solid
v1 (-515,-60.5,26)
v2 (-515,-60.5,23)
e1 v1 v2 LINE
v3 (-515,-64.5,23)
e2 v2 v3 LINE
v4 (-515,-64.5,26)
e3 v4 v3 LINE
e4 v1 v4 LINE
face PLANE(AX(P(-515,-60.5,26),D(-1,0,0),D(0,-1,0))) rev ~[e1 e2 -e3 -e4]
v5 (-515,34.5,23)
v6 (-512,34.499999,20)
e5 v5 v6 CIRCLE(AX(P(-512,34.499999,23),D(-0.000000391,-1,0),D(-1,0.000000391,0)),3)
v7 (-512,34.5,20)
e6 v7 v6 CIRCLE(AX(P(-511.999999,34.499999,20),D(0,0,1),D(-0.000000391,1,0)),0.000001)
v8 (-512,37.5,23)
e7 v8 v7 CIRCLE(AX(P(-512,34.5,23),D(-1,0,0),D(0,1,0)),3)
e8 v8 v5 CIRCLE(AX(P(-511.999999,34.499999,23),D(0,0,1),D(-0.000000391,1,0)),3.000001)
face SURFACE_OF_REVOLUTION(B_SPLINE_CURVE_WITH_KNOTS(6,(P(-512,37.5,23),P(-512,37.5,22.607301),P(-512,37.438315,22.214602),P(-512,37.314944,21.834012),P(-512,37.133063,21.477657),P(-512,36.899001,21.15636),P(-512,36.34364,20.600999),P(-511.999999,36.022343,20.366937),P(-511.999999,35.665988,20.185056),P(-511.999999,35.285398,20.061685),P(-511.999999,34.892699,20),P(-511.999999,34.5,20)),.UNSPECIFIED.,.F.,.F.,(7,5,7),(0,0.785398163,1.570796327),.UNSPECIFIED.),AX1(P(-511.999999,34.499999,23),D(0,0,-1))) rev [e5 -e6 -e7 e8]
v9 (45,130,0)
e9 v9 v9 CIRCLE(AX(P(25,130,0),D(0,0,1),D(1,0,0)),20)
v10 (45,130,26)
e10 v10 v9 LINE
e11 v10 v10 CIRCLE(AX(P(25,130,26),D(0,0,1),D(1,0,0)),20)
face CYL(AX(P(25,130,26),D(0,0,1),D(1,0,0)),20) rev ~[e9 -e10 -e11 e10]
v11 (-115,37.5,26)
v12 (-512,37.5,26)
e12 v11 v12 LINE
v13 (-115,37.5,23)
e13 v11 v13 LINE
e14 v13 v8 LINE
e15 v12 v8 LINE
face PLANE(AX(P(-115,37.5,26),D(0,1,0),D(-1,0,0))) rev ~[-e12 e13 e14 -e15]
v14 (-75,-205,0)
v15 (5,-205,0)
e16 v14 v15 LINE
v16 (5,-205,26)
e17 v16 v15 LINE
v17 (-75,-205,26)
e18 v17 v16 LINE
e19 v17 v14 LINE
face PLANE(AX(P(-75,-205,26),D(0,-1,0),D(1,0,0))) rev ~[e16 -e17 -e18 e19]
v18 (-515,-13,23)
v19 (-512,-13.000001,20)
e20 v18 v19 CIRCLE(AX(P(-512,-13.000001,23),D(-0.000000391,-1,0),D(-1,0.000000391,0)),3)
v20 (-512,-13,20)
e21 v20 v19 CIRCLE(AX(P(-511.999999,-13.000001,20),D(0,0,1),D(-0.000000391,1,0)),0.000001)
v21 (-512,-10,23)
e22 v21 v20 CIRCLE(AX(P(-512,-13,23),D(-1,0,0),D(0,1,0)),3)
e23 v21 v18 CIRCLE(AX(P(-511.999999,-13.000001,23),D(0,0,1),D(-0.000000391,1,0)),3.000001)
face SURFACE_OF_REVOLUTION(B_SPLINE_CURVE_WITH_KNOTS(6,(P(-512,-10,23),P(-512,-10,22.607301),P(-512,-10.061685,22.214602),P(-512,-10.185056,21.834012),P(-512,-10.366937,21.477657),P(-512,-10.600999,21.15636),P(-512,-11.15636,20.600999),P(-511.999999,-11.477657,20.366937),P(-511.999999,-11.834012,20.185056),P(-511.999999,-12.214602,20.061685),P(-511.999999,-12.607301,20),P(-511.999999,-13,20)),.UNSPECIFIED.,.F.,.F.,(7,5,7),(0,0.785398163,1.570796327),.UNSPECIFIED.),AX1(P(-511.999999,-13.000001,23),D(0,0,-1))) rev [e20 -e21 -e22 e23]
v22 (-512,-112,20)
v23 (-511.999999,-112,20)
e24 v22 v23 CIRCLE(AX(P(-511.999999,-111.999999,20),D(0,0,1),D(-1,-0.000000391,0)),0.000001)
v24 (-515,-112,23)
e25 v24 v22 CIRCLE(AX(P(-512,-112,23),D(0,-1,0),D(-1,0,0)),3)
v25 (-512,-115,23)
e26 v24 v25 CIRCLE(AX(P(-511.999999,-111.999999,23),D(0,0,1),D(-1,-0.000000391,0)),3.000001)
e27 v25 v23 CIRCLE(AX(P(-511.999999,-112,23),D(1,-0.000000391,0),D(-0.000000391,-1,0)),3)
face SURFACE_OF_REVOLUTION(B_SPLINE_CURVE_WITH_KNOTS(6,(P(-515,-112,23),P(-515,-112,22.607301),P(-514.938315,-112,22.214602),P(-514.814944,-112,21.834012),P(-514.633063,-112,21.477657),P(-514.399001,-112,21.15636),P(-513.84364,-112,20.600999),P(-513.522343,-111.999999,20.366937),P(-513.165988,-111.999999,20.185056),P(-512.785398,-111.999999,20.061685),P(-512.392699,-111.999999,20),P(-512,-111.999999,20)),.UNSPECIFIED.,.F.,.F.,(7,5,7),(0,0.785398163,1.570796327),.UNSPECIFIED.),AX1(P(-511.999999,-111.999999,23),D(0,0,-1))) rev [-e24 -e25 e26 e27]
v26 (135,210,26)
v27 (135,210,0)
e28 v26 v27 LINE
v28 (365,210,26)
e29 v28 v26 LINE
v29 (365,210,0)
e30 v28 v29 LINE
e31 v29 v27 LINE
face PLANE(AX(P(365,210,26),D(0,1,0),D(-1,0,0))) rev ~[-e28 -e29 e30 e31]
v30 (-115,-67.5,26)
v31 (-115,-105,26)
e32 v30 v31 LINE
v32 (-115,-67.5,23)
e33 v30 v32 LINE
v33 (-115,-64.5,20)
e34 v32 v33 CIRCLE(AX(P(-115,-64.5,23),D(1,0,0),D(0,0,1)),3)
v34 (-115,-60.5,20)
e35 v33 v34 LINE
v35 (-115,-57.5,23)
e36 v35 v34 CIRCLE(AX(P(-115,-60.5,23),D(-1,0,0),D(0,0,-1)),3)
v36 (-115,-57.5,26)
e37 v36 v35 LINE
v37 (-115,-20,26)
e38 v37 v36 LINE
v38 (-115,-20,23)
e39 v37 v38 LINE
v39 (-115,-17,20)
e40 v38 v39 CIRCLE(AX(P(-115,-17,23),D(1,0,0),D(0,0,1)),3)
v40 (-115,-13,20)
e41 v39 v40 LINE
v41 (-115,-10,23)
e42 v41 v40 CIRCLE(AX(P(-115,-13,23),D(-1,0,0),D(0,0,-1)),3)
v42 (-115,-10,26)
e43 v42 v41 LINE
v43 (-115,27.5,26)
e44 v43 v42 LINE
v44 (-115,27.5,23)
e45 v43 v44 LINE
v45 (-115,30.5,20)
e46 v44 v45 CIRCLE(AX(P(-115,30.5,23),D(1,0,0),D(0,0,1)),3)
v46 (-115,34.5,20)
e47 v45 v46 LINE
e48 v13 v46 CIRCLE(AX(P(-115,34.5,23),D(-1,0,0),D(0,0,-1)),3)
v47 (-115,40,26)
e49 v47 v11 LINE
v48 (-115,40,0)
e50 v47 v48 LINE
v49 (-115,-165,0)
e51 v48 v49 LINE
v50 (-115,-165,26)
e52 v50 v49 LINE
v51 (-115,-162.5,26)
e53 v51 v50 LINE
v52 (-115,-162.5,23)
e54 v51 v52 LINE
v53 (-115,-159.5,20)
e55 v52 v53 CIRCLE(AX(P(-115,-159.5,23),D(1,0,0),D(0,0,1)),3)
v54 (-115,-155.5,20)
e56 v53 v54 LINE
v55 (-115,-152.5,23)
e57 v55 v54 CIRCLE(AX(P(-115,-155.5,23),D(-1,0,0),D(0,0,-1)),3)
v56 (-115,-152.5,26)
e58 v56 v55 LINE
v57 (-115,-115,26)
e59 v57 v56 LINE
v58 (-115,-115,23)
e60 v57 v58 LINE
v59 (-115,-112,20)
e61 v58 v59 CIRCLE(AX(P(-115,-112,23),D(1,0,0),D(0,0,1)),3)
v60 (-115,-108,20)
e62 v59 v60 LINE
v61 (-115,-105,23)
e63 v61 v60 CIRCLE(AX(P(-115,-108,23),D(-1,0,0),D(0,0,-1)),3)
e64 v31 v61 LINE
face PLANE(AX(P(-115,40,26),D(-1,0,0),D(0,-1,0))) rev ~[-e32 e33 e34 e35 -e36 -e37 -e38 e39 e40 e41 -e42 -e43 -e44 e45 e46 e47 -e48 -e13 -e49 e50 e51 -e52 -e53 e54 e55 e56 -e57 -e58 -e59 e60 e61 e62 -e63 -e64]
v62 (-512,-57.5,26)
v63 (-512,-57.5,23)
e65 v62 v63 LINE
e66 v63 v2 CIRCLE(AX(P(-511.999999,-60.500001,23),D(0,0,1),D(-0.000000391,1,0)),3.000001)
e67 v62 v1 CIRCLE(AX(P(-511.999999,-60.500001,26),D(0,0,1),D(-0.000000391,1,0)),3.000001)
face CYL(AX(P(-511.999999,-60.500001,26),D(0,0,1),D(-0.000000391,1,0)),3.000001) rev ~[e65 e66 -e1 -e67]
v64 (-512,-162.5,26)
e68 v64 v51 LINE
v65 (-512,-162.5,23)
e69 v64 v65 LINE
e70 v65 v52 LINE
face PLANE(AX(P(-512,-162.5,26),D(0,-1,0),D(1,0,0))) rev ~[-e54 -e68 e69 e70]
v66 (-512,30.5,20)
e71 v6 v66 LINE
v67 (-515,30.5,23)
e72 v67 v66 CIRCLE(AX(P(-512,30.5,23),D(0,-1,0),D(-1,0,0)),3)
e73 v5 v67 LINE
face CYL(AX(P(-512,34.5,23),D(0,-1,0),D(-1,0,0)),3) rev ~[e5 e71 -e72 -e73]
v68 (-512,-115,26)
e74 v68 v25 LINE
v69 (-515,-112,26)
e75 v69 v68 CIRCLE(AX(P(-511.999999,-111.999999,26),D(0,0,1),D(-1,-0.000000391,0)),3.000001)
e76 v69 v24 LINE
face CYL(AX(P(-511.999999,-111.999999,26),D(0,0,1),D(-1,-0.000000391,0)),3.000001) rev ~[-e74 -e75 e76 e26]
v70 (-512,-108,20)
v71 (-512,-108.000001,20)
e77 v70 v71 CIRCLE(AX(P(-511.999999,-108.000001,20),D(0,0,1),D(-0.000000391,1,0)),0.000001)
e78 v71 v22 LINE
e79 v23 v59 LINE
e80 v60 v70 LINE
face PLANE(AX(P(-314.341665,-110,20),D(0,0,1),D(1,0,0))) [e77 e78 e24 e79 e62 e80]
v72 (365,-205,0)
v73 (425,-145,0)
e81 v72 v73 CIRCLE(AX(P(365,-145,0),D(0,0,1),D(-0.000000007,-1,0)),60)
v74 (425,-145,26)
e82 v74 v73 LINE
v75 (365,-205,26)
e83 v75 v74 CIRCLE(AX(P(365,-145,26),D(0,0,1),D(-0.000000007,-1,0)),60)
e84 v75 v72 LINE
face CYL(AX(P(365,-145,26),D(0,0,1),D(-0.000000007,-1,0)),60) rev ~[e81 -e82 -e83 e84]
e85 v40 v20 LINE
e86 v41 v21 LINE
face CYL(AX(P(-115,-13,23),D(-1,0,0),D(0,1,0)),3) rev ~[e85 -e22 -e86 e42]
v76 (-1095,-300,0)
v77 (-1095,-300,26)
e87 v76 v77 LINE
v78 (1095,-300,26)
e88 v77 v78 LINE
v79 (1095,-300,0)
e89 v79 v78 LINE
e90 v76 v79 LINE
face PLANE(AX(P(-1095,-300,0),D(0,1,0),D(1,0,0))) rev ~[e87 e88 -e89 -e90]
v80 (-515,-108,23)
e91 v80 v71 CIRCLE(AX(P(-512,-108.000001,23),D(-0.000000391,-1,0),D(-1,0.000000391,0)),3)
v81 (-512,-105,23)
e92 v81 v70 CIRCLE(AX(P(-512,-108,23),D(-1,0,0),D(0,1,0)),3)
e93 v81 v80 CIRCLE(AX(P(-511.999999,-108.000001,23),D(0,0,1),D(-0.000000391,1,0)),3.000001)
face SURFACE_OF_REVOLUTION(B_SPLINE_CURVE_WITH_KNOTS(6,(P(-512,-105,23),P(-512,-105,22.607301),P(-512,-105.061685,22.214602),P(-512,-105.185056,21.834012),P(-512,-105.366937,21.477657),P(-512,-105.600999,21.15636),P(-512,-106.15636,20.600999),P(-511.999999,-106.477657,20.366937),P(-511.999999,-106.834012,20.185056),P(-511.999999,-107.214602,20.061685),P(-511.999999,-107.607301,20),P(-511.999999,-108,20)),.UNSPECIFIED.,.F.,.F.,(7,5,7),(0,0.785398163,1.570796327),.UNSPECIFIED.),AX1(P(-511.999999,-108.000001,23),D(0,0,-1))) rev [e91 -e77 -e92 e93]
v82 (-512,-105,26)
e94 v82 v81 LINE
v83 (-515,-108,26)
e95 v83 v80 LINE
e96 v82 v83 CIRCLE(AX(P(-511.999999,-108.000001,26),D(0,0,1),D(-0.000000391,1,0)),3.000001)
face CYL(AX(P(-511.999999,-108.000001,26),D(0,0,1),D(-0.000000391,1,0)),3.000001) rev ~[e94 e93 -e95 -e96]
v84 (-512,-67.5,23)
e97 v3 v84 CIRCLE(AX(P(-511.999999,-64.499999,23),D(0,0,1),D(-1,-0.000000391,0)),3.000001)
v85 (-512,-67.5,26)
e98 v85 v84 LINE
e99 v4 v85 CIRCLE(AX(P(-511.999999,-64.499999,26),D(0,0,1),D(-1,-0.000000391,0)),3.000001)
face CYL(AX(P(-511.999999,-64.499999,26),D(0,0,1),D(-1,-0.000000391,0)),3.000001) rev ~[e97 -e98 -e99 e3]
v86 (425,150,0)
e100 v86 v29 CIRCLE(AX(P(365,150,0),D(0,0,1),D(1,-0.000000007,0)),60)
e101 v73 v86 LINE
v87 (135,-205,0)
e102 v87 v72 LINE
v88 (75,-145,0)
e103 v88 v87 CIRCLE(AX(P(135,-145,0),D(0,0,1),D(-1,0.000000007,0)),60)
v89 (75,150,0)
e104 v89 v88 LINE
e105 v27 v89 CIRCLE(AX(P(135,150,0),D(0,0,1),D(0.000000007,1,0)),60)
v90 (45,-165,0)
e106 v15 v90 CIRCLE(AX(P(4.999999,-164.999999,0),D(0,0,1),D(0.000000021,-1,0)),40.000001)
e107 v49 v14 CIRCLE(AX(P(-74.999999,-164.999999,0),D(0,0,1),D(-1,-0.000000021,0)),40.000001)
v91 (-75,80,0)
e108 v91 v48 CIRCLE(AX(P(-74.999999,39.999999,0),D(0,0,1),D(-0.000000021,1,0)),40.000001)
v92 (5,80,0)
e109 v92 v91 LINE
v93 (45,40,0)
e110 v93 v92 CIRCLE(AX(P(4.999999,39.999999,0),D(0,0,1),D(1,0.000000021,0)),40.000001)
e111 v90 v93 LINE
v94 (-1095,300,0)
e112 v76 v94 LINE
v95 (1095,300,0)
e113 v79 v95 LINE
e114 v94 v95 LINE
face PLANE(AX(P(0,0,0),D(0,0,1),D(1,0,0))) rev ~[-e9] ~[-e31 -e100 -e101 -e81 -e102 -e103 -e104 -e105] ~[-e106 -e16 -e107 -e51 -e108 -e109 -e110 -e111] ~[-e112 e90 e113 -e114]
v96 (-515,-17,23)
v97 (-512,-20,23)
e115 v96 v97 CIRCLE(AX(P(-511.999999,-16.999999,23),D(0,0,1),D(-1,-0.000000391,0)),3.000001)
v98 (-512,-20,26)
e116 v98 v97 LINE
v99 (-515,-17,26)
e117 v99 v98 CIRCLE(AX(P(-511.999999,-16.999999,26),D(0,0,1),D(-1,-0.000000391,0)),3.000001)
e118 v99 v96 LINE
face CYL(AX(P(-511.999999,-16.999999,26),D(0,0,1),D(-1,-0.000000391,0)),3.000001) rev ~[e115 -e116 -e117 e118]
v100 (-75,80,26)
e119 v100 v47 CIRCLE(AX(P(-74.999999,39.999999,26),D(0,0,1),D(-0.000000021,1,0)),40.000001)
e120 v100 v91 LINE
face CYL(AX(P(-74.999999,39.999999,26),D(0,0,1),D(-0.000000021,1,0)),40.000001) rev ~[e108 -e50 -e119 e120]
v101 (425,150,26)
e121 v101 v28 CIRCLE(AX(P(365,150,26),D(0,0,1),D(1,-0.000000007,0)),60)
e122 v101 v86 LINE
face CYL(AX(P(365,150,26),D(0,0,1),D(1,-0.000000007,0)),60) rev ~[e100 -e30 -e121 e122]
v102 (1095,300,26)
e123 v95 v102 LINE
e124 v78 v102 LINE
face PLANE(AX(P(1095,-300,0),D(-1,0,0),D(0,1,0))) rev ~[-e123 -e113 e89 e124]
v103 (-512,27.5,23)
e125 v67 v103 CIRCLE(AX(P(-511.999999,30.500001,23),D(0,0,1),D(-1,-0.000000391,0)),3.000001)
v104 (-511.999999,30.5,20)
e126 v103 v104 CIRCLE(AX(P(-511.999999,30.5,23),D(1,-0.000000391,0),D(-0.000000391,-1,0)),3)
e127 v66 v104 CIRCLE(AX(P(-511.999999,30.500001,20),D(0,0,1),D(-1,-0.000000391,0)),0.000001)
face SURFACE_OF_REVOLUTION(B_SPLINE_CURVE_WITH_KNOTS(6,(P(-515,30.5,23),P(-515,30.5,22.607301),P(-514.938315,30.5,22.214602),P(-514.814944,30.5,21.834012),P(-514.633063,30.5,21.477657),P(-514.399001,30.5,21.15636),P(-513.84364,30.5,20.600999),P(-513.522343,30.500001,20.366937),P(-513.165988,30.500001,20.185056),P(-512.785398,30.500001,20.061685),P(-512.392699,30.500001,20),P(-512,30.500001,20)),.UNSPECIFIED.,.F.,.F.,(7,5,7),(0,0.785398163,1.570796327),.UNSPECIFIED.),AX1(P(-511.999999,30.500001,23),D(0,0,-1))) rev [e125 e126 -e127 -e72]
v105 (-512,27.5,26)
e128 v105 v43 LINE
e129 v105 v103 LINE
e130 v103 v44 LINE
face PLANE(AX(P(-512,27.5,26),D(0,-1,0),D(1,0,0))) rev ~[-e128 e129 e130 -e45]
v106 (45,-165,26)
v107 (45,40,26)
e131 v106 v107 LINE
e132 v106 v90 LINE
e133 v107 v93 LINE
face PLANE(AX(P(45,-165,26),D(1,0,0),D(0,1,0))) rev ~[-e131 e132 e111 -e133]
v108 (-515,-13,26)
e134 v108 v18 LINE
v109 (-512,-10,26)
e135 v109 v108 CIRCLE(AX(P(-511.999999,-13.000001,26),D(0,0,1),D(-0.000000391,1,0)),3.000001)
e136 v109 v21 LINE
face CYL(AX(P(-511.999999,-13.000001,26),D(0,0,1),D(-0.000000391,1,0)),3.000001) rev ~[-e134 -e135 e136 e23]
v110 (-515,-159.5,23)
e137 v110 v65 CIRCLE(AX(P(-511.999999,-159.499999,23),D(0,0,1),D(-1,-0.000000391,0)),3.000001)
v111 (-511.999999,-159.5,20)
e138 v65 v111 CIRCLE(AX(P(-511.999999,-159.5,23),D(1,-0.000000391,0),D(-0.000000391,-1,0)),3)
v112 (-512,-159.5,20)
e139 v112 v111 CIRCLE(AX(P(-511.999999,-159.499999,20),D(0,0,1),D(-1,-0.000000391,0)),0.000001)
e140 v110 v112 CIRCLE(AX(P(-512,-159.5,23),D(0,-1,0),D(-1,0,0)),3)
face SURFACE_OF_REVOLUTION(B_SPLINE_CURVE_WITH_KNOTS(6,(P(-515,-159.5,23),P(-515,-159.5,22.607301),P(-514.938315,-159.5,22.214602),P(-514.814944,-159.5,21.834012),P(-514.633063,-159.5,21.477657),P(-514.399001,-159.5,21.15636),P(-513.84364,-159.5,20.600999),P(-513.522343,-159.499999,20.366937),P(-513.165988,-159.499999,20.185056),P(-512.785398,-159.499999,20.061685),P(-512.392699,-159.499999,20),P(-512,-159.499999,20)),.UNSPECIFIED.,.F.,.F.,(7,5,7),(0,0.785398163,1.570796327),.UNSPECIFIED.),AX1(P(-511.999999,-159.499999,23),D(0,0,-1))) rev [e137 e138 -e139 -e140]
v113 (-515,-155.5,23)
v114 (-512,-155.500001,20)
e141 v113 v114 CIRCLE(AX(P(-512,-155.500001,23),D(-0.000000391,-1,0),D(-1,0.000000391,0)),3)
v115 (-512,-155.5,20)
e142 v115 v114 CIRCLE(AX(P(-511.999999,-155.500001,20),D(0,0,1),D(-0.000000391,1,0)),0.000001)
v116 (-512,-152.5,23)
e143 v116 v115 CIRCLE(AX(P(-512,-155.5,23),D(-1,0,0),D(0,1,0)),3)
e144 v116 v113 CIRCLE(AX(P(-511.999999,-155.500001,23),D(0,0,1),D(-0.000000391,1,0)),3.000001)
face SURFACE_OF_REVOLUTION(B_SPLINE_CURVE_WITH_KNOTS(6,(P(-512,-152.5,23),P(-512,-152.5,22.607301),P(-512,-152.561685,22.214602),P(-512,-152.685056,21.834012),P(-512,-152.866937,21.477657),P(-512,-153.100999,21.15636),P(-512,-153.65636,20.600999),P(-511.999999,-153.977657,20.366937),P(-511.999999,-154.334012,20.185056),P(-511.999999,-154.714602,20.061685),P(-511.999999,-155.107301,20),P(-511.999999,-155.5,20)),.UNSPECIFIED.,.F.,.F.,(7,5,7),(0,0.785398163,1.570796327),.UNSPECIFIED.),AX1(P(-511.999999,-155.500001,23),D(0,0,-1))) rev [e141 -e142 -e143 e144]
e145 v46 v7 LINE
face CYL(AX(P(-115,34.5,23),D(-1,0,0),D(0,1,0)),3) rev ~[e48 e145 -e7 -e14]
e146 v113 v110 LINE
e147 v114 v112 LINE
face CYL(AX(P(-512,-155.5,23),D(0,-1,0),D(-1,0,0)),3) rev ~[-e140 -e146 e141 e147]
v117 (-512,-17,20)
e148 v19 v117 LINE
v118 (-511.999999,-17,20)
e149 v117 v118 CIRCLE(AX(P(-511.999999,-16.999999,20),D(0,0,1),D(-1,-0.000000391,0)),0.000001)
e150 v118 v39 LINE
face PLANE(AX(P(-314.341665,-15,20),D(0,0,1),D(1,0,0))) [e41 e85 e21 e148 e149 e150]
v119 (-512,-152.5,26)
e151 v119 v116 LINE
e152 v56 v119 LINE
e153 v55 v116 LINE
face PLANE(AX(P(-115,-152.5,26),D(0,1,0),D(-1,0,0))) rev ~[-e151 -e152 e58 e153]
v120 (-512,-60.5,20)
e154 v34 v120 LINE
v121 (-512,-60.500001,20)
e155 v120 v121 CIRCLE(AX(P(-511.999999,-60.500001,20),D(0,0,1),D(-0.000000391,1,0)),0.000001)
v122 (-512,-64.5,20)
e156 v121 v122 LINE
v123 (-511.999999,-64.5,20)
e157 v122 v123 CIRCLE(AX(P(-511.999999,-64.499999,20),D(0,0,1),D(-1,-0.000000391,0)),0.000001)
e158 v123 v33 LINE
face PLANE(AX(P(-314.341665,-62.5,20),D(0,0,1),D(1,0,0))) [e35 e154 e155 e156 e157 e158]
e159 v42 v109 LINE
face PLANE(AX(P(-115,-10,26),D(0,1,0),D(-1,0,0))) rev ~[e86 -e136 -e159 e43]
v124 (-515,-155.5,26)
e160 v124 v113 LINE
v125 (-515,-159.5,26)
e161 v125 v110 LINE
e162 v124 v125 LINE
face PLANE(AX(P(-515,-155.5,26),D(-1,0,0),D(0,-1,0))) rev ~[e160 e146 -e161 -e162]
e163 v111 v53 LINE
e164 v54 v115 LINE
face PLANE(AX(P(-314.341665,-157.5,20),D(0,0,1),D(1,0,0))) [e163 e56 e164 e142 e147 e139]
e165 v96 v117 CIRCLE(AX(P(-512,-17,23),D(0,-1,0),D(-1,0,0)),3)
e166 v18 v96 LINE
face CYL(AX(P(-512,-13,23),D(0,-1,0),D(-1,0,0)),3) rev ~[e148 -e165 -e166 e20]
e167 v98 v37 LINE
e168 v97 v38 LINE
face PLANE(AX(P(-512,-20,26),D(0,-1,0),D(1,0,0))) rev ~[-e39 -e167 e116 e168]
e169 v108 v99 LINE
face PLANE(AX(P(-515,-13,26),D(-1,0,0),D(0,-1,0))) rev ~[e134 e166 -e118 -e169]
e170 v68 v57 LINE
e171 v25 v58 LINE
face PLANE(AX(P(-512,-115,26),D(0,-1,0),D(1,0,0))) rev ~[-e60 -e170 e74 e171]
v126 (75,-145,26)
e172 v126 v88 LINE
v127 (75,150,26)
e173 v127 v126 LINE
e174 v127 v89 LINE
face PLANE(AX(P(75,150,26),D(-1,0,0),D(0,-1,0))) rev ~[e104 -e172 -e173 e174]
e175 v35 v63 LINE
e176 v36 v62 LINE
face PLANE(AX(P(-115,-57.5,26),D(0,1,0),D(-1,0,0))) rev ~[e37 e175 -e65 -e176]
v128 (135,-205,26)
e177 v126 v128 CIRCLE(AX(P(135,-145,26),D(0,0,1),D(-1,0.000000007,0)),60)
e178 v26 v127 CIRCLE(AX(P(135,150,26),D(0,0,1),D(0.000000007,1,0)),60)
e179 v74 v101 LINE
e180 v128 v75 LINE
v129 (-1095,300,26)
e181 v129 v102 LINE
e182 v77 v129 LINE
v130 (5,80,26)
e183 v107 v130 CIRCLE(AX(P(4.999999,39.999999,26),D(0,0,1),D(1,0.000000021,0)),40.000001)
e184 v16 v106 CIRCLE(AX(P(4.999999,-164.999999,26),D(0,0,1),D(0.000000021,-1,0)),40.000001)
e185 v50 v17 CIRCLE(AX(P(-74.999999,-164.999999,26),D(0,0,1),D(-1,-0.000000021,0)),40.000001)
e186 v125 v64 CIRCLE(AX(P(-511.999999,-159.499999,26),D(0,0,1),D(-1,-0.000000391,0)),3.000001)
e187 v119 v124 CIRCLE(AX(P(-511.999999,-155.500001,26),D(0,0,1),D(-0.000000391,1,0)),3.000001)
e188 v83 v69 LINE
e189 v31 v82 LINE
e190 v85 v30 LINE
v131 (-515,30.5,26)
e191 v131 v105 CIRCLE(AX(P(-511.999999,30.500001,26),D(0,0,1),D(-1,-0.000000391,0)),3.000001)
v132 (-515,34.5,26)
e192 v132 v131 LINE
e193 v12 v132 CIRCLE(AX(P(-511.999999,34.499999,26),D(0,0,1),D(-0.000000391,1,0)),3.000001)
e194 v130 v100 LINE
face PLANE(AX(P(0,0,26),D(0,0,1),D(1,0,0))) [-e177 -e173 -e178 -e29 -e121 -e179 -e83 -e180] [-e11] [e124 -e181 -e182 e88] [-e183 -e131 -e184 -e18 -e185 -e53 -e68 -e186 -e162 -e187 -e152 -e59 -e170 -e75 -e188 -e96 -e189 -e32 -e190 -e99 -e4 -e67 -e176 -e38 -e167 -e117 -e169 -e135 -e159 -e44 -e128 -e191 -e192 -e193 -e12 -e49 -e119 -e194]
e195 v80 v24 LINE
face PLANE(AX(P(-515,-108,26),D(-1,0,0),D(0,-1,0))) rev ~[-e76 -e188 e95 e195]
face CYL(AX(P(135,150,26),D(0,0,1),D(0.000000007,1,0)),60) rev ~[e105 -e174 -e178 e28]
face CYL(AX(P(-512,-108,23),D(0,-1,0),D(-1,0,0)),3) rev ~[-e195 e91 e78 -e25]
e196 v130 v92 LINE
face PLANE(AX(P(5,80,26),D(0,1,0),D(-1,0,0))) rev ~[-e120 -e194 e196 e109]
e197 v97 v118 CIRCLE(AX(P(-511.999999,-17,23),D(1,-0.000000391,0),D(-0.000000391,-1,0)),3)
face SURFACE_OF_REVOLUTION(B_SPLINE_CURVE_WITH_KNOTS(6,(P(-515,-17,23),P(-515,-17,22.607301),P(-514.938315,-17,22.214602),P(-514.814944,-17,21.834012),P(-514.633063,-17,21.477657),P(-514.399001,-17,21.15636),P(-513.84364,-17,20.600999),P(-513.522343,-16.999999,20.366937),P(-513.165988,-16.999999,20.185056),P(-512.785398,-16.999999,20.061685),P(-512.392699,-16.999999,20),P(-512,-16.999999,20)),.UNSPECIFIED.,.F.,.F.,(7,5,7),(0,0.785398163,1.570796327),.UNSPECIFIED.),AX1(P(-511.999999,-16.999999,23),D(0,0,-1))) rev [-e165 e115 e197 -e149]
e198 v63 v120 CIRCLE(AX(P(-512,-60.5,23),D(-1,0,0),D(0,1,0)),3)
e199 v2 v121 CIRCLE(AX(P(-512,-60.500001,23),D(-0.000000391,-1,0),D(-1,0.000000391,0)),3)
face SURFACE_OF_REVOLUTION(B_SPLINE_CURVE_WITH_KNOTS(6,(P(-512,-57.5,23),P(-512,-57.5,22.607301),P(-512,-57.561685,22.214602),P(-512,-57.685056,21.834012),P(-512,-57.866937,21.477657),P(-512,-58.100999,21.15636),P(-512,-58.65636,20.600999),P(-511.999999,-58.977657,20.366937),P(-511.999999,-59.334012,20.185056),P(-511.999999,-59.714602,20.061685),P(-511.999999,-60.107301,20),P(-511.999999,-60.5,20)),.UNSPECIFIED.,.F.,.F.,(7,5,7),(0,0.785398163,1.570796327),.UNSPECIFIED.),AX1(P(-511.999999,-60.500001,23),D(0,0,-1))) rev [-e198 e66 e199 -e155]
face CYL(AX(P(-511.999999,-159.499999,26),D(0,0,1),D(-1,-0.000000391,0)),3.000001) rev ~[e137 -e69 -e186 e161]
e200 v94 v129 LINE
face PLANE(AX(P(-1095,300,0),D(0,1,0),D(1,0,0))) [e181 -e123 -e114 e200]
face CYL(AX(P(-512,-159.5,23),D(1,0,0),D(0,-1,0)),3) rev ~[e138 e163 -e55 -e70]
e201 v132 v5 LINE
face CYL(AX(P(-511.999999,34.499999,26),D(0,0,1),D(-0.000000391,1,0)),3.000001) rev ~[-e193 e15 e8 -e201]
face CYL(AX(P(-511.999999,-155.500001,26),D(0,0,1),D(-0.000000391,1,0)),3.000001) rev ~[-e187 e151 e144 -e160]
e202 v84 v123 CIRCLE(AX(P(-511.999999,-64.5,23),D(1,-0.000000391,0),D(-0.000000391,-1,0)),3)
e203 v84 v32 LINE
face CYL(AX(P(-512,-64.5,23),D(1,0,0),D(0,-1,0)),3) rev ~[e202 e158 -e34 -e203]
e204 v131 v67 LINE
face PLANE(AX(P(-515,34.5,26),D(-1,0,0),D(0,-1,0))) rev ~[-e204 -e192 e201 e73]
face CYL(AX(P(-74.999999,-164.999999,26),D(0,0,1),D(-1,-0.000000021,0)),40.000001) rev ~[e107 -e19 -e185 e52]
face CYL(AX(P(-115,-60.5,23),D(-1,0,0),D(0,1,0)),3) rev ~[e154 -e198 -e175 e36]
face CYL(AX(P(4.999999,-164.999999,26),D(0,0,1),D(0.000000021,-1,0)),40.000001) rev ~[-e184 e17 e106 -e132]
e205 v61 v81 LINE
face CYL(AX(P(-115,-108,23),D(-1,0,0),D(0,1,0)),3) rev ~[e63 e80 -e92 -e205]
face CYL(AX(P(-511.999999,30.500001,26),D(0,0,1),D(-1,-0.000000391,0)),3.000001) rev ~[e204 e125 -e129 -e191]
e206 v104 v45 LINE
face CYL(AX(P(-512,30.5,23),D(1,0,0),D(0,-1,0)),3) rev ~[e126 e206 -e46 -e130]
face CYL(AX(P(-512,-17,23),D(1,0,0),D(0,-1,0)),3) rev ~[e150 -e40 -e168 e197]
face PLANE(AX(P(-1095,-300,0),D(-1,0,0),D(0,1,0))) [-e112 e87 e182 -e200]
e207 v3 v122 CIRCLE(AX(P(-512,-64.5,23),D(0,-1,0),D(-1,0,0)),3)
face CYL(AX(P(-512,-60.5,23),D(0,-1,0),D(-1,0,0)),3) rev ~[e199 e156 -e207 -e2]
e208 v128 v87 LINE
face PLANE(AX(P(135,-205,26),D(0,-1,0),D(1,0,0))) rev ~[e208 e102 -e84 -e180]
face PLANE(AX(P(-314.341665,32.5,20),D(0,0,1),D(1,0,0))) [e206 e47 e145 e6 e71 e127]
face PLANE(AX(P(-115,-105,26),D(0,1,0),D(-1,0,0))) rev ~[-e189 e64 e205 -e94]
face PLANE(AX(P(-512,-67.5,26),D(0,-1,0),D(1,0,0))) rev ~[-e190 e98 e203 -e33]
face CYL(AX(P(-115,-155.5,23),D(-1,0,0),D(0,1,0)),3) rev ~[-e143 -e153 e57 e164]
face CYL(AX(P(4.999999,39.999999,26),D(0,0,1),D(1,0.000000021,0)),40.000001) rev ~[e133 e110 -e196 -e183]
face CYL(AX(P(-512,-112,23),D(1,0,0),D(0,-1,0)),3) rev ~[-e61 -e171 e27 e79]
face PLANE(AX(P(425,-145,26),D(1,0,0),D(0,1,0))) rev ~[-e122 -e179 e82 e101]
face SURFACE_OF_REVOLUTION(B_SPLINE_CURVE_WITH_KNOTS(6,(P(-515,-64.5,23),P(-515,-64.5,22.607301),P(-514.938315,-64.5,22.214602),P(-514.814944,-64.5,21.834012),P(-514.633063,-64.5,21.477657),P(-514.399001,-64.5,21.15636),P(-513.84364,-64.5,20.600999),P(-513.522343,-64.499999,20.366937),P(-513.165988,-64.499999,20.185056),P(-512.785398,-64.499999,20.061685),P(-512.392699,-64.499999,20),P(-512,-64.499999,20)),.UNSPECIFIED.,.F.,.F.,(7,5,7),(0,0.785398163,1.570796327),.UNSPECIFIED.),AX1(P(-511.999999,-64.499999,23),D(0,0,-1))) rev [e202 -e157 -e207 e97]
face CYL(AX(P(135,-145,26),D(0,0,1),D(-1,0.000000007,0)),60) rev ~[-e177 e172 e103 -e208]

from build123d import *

# Parameters (mm, degrees)
F0_W     = 2190
F0_H     = 600
F1_DEPTH = 26
F3_DEPTH = 26.001
F5_DEPTH = 6
F6_R     = 3
F7_R     = 20
F8_DEPTH = 26.001


with BuildPart() as f1:
    # F0 (on Top) → F1 (new body)
    with BuildSketch(Plane.XY):
        Rectangle(F0_W, F0_H)
    extrude(amount=F1_DEPTH)

    # F2 (on face) → F3 (cut, through all)
    with BuildSketch(Plane.XY.offset(26)):
        with BuildLine():
            Line((135, -205), (365, -205))
            ThreePointArc((365, -205), (407.426407, -187.426407), (425, -145))
            Line((425, -145), (425, 150))
            ThreePointArc((425, 150), (407.426407, 192.426407), (365, 210))
            Line((365, 210), (135, 210))
            ThreePointArc((135, 210), (92.573593, 192.426407), (75, 150))
            Line((75, 150), (75, -145))
            ThreePointArc((75, -145), (92.573593, -187.426407), (135, -205))
        make_face()
        with BuildLine():
            Line((-75, -205), (5, -205))
            ThreePointArc((5, -205), (33.284271, -193.284271), (45, -165))
            Line((45, -165), (45, 40))
            ThreePointArc((45, 40), (33.284271, 68.284271), (5, 80))
            Line((5, 80), (-75, 80))
            ThreePointArc((-75, 80), (-103.284271, 68.284271), (-115, 40))
            Line((-115, 40), (-115, -165))
            ThreePointArc((-115, -165), (-103.284271, -193.284271), (-75, -205))
        make_face()
    extrude(amount=-F3_DEPTH, mode=Mode.SUBTRACT)

    # F4 (on face) → F5 (cut)
    with BuildSketch(Plane.XY.offset(26)):
        with BuildLine():
            Line((-115, -162.5), (-115, -152.5))
            Line((-115, -152.5), (-512, -152.5))
            ThreePointArc((-512, -152.5), (-514.12132, -153.37868), (-515, -155.5))
            Line((-515, -155.5), (-515, -159.5))
            ThreePointArc((-515, -159.5), (-514.12132, -161.62132), (-512, -162.5))
            Line((-512, -162.5), (-115, -162.5))
        make_face()
        with BuildLine():
            Line((-115, -115), (-115, -105))
            Line((-115, -105), (-512, -105))
            ThreePointArc((-512, -105), (-514.12132, -105.87868), (-515, -108))
            Line((-515, -108), (-515, -112))
            ThreePointArc((-515, -112), (-514.12132, -114.12132), (-512, -115))
            Line((-512, -115), (-115, -115))
        make_face()
        with BuildLine():
            Line((-115, -67.5), (-115, -57.5))
            Line((-115, -57.5), (-512, -57.5))
            ThreePointArc((-512, -57.5), (-514.12132, -58.37868), (-515, -60.5))
            Line((-515, -60.5), (-515, -64.5))
            ThreePointArc((-515, -64.5), (-514.12132, -66.62132), (-512, -67.5))
            Line((-512, -67.5), (-115, -67.5))
        make_face()
        with BuildLine():
            Line((-115, -20), (-115, -10))
            Line((-115, -10), (-512, -10))
            ThreePointArc((-512, -10), (-514.12132, -10.87868), (-515, -13))
            Line((-515, -13), (-515, -17))
            ThreePointArc((-515, -17), (-514.12132, -19.12132), (-512, -20))
            Line((-512, -20), (-115, -20))
        make_face()
        with BuildLine():
            Line((-115, 27.5), (-115, 37.5))
            Line((-115, 37.5), (-512, 37.5))
            ThreePointArc((-512, 37.5), (-514.12132, 36.62132), (-515, 34.5))
            Line((-515, 34.5), (-515, 30.5))
            ThreePointArc((-515, 30.5), (-514.12132, 28.37868), (-512, 27.5))
            Line((-512, 27.5), (-115, 27.5))
        make_face()
    extrude(amount=-F5_DEPTH, mode=Mode.SUBTRACT)

    # F6
    f6_edges = [f1.edges().sort_by_distance(p)[0] for p in [
        (-313.5, 37.5, 20),
        (-313.5, -10, 20),
        (-313.5, -57.5, 20),
        (-313.5, -105, 20),
        (-313.5, -152.5, 20),
        (-313.5, -162.5, 20),
        (-313.5, -115, 20),
        (-313.5, -20, 20),
        (-313.5, -67.5, 20),
        (-313.5, 27.5, 20),
    ]]
    fillet(f6_edges, radius=F6_R)

    # F7 (on face) → F8 (cut, through all)
    with BuildSketch(Plane.XY.offset(26)):
        with Locations((25, 130)):
            Circle(F7_R)
    extrude(amount=-F8_DEPTH, mode=Mode.SUBTRACT)


solid = f1.part
